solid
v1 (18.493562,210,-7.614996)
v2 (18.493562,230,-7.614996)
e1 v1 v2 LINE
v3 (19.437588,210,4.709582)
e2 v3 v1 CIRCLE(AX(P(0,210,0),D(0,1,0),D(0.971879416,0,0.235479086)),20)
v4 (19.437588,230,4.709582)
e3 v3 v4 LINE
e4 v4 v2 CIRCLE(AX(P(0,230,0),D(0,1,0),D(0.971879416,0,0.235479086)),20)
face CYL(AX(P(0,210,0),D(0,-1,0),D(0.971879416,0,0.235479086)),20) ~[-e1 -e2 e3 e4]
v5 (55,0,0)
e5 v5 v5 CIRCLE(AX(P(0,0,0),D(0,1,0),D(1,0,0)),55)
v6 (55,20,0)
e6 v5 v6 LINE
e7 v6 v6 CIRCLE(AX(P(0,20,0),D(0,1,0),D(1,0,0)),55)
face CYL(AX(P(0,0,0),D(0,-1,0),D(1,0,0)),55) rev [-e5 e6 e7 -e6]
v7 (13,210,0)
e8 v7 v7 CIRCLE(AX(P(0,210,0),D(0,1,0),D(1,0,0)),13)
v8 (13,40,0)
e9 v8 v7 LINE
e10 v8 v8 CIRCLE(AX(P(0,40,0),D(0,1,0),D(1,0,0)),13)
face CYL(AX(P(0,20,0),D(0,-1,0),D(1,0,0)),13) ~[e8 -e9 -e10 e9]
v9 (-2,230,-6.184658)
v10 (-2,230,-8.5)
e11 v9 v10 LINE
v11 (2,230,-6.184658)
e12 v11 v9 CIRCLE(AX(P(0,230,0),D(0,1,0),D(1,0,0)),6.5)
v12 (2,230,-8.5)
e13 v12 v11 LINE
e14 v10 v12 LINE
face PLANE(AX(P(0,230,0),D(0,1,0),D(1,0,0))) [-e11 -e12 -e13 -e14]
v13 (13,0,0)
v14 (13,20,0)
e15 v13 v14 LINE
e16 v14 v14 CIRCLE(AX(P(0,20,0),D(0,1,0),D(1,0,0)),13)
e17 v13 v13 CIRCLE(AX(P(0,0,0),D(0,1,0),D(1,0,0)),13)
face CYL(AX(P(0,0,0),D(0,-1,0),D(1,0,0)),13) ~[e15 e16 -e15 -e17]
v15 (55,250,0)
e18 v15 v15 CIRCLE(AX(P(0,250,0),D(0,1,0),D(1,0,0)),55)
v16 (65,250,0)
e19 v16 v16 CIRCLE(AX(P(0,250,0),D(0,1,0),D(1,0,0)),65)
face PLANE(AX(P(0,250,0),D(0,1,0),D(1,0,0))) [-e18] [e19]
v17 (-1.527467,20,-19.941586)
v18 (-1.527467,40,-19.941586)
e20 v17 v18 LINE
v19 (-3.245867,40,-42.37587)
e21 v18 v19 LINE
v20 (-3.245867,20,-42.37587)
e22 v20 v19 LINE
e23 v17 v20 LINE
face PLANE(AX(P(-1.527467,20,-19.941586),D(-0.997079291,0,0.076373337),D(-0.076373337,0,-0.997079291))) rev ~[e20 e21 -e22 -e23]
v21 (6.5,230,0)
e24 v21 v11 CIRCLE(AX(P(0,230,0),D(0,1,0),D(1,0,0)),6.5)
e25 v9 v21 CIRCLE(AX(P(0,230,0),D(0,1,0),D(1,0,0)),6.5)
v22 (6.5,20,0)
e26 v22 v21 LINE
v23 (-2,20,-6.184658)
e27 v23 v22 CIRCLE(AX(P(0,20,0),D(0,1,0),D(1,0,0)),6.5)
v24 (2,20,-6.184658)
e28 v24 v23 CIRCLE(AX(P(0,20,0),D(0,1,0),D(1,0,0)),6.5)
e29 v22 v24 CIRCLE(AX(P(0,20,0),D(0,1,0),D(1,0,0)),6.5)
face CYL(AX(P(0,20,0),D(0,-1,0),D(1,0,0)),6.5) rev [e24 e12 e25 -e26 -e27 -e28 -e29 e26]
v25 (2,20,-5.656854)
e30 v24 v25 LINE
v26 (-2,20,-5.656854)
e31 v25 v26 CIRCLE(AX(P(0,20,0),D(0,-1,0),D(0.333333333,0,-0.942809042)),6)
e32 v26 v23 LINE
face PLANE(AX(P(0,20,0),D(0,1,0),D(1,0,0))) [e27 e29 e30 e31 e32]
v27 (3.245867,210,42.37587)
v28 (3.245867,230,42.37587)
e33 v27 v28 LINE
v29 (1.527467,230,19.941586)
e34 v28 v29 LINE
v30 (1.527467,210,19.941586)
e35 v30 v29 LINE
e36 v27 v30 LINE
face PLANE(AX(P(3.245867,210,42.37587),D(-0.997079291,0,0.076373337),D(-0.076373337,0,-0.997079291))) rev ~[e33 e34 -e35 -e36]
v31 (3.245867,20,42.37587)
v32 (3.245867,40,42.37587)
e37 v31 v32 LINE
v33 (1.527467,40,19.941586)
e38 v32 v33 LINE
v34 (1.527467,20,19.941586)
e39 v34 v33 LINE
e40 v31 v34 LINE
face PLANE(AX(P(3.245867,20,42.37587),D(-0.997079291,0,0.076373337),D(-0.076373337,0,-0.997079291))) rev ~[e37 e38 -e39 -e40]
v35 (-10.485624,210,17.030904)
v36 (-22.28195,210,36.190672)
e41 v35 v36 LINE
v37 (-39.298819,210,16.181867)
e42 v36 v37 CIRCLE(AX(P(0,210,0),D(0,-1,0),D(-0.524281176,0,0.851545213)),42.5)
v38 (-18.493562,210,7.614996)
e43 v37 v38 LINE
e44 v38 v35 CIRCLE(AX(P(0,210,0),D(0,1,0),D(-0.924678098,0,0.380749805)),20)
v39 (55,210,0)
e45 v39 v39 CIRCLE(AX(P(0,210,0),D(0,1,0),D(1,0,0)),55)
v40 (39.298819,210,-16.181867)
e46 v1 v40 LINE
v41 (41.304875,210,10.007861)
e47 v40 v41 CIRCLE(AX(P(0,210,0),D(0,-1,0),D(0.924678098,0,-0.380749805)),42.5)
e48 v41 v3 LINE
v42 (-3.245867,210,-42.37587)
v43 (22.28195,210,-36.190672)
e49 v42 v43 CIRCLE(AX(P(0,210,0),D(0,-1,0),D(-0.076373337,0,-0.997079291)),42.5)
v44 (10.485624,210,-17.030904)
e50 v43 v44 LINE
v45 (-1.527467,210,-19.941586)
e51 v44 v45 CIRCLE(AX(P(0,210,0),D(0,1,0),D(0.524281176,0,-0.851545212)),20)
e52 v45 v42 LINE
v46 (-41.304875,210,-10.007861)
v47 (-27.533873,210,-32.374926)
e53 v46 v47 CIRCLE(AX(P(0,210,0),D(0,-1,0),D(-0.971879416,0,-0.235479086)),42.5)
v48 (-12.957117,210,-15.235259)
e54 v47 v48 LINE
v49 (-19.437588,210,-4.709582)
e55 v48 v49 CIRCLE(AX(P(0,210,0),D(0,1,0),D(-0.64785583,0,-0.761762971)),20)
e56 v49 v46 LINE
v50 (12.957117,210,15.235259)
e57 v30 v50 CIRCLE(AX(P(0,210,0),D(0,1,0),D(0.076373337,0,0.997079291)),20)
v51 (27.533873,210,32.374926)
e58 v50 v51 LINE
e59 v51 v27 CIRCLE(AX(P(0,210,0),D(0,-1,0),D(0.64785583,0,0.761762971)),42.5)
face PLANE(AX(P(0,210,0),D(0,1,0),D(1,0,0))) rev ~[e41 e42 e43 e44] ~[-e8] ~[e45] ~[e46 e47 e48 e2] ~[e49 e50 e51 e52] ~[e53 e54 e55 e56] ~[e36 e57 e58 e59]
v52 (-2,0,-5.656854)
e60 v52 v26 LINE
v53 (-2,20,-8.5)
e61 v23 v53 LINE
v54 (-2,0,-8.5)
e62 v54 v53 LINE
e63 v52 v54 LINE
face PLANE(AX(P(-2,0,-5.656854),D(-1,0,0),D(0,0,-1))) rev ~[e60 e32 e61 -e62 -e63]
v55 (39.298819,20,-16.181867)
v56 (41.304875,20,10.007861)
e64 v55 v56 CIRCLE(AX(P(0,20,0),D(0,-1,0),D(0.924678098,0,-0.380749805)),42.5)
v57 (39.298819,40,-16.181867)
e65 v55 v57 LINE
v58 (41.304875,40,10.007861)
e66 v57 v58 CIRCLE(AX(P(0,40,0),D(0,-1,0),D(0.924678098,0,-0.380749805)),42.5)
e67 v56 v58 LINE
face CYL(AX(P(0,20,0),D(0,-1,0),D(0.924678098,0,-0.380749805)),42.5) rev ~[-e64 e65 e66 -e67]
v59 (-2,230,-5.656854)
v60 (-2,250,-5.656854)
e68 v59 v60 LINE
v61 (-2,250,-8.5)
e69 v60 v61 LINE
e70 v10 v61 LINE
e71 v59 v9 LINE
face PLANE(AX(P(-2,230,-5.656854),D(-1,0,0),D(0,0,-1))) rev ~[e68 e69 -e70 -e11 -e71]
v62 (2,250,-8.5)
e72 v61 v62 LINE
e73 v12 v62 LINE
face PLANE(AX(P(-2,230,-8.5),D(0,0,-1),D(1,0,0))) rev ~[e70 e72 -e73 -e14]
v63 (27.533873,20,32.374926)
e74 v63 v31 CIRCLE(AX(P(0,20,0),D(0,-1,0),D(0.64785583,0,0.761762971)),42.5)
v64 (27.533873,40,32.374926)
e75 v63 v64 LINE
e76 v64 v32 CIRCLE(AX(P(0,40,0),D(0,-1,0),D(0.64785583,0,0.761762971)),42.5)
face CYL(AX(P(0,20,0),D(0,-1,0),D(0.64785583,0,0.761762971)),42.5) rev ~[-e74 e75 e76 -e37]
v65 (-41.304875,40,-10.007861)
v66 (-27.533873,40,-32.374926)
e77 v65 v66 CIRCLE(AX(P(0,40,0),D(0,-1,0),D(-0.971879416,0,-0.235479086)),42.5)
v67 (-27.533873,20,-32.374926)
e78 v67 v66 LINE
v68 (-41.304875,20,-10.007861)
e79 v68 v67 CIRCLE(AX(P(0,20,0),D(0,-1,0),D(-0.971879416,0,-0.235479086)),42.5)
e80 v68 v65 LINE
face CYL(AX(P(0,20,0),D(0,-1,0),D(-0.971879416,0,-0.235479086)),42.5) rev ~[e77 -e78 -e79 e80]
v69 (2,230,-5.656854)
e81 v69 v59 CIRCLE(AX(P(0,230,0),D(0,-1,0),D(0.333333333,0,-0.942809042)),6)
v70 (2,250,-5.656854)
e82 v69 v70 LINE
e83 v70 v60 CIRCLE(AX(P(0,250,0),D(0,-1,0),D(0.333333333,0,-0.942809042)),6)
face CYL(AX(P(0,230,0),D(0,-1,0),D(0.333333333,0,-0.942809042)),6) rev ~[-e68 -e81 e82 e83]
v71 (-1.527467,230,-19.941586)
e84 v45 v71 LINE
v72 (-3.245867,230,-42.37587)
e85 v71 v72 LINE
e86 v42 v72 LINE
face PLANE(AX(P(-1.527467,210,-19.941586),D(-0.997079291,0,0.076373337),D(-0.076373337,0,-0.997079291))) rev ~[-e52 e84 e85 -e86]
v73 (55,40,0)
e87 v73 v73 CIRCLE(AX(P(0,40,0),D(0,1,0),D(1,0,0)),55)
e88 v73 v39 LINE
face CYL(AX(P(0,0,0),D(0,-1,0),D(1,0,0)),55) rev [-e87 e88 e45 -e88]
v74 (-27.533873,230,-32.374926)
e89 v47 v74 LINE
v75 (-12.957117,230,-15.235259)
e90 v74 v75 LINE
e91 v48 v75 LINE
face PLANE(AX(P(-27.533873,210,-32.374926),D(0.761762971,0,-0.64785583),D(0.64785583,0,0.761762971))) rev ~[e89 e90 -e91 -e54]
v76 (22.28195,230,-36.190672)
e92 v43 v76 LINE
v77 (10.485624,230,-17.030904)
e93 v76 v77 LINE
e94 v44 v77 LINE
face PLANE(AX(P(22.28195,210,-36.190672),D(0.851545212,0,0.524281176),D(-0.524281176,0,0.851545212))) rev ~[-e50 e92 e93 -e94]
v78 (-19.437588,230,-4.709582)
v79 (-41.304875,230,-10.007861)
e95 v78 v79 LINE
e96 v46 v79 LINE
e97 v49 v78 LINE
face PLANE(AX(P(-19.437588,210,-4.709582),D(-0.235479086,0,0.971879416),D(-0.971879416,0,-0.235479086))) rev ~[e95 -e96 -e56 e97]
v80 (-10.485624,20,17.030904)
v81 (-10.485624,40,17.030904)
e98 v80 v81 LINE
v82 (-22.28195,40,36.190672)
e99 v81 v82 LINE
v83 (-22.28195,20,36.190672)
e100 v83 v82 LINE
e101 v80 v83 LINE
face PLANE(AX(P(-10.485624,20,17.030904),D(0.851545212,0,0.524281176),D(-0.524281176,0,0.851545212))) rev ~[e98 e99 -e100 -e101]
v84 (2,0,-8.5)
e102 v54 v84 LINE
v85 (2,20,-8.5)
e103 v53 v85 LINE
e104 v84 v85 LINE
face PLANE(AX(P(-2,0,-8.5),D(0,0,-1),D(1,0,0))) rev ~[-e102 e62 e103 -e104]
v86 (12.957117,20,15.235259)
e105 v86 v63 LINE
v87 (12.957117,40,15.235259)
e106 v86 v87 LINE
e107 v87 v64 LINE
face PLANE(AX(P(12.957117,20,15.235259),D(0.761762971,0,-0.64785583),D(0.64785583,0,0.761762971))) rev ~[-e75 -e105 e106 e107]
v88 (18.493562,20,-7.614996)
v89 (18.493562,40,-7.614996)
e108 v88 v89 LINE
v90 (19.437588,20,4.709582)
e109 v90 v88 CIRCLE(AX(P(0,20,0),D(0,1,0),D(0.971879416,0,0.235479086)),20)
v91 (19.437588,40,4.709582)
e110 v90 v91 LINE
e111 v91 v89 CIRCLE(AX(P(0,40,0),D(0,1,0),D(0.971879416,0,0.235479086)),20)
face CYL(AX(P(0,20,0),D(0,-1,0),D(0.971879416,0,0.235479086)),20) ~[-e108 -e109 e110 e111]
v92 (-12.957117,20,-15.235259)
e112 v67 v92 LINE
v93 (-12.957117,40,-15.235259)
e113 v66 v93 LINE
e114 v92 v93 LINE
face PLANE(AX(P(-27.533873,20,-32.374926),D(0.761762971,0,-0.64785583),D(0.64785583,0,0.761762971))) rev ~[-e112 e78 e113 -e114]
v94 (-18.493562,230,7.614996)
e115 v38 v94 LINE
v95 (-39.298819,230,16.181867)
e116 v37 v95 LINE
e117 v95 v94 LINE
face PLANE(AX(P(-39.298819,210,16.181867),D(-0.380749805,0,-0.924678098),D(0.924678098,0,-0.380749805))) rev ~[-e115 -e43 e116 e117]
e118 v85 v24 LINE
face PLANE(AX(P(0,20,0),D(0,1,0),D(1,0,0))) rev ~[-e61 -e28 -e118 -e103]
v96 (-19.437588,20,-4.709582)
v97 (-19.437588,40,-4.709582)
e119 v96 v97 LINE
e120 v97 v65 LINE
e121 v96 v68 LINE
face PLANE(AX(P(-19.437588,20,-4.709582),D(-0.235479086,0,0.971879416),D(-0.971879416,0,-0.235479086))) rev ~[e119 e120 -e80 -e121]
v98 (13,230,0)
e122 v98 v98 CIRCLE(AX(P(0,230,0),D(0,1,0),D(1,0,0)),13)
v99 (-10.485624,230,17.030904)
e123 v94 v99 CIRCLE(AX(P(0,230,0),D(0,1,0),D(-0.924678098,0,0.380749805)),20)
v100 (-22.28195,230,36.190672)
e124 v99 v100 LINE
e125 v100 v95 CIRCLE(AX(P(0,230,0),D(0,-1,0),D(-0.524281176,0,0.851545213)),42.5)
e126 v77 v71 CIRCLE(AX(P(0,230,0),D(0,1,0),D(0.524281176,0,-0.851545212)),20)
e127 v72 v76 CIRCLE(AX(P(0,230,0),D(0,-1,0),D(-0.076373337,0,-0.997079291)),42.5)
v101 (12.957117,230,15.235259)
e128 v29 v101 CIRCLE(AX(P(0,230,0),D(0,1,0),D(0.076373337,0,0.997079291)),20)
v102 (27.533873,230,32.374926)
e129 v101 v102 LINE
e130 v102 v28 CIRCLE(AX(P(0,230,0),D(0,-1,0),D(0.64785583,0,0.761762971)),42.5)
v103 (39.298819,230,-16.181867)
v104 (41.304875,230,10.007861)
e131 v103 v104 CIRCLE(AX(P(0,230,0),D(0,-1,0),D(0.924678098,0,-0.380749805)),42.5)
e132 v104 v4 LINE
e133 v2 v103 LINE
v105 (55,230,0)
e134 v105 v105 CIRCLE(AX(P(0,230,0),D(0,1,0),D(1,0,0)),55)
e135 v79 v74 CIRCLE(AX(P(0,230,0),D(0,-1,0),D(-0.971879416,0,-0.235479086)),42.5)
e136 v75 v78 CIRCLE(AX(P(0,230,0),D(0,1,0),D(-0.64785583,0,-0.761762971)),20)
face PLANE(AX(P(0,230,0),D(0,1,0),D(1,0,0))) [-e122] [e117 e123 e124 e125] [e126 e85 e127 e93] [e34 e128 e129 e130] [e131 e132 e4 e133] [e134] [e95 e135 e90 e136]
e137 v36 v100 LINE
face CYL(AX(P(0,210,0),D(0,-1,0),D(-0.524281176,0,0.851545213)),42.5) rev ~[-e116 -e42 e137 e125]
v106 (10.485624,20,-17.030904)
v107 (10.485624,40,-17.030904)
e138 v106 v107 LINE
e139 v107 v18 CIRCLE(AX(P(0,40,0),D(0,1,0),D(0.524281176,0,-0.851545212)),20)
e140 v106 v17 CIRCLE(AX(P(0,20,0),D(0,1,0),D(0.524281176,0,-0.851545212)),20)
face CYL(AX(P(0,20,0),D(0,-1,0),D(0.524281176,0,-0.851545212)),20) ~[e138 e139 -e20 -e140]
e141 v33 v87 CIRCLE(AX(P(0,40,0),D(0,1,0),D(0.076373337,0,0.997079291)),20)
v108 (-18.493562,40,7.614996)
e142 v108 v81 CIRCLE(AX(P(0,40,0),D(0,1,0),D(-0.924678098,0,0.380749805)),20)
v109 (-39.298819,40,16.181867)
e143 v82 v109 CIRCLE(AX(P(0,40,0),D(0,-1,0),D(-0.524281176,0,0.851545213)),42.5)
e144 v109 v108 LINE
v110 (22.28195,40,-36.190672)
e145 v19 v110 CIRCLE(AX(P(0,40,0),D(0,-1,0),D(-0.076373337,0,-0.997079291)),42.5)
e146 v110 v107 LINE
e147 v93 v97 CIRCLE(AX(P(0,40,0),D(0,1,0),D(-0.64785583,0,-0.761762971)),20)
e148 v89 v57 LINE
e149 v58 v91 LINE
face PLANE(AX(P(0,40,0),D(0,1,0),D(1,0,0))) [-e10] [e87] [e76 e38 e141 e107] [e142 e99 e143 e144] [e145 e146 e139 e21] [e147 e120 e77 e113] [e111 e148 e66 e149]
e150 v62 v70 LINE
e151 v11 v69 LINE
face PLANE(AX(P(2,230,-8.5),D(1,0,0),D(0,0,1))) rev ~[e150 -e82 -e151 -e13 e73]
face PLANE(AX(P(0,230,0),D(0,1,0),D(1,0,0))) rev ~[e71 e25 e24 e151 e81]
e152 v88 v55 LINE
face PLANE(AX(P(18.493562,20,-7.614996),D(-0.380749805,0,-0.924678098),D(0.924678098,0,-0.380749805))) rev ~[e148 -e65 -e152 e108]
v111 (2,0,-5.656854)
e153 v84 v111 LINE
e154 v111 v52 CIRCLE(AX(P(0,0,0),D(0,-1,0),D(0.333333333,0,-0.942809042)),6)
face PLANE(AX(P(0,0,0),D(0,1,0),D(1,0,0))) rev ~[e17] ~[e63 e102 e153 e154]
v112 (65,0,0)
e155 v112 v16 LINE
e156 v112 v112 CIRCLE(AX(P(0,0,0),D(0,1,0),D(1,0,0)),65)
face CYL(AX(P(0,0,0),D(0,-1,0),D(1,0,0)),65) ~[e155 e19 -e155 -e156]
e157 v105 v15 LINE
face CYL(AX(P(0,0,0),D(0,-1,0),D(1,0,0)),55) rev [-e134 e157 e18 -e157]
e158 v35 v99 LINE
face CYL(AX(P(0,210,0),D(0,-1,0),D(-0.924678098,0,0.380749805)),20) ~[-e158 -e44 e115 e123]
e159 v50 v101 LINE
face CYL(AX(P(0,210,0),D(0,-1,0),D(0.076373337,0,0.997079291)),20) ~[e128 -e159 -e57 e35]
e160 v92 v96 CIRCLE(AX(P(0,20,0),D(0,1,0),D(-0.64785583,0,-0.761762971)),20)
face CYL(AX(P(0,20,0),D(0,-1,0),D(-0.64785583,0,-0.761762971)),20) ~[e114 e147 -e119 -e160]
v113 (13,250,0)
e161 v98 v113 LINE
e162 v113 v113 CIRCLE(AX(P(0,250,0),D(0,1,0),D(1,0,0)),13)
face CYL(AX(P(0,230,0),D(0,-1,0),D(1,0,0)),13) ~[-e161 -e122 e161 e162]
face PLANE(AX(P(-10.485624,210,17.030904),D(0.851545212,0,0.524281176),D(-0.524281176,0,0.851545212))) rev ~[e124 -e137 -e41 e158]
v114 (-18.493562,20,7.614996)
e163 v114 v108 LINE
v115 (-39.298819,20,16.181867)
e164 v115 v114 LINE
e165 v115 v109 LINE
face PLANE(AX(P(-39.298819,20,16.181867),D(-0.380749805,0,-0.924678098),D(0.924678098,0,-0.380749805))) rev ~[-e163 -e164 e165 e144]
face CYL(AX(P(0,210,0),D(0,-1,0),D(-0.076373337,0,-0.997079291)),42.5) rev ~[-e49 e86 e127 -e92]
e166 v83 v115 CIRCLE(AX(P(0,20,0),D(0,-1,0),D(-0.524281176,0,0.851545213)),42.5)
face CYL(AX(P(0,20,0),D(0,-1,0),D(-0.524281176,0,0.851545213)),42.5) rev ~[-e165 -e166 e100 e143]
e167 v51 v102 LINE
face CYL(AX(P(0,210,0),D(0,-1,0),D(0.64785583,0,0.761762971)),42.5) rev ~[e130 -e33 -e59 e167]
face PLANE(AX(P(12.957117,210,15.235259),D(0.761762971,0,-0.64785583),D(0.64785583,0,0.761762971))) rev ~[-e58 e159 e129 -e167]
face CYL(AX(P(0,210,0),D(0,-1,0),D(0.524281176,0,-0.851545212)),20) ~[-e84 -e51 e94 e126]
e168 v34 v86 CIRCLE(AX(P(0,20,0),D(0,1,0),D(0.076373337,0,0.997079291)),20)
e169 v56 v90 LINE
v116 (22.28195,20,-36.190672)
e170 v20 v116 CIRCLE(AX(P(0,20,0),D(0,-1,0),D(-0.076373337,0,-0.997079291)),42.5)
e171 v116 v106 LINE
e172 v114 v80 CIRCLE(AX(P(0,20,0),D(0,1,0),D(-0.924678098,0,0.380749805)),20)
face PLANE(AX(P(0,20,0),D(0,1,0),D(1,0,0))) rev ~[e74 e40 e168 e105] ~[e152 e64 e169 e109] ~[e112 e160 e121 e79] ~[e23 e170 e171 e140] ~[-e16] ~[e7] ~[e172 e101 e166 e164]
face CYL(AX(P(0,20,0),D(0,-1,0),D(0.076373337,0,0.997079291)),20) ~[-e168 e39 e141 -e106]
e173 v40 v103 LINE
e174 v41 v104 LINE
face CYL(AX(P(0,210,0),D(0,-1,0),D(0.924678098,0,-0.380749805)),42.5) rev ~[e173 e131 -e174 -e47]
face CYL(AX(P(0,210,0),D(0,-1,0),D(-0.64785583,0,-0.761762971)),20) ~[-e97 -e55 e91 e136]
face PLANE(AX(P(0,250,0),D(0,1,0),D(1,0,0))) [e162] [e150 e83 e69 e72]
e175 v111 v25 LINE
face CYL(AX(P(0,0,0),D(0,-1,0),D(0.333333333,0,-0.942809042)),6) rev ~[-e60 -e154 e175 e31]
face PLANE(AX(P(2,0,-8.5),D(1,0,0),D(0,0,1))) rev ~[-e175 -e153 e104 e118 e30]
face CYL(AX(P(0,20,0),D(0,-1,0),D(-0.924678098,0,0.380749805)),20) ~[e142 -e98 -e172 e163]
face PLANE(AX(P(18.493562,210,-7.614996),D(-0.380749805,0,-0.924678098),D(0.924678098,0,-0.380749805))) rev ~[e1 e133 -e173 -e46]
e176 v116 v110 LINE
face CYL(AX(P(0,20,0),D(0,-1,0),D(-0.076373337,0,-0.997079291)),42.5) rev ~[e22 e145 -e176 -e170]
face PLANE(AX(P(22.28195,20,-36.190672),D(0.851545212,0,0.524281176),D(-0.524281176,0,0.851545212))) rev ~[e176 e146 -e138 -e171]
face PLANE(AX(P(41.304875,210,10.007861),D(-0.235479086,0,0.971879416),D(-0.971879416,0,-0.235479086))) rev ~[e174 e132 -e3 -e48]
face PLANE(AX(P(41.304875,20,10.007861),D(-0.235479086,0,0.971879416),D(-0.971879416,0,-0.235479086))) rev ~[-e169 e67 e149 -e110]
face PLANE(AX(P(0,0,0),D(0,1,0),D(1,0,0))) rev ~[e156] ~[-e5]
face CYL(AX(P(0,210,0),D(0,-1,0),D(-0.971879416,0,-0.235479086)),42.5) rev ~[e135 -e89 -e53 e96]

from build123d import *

# Parameters (mm, degrees)
SKETCH1_R           = 65
SKETCH1_R_2         = 55
BOSS_EXTRUDE1_DEPTH = 250
BOSS_EXTRUDE2_START = 20
SKETCH3_R           = 55
SKETCH3_R_2         = 13
BOSS_EXTRUDE2_DEPTH = 20
BOSS_EXTRUDE3_START = 210
SKETCH3_5_R         = 55
SKETCH3_5_R_2       = 13
BOSS_EXTRUDE3_DEPTH = 20
BOSS_EXTRUDE4_START = 20
SKETCH3_7_R         = 13
SKETCH3_7_R_2       = 6.5
BOSS_EXTRUDE4_DEPTH = 210
SKETCH3_10_R        = 13
BOSS_EXTRUDE5_DEPTH = 20
BOSS_EXTRUDE6_START = 230
SKETCH3_11_R        = 13
BOSS_EXTRUDE6_DEPTH = 20


with BuildPart() as part:
    # Sketch1 → Boss-Extrude1 (new body)
    with BuildSketch(Plane(origin=(0, 0, 0), x_dir=(1, 0, 0), z_dir=(0, 1, 0))):
        Circle(SKETCH1_R)
        Circle(SKETCH1_R_2, mode=Mode.SUBTRACT)
    extrude(amount=BOSS_EXTRUDE1_DEPTH)

    # Sketch3 → Boss-Extrude2 (add)
    with BuildSketch(Plane(origin=(0, 0, 0), x_dir=(1, 0, 0), z_dir=(0, 1, 0)).offset(BOSS_EXTRUDE2_START)):
        Circle(SKETCH3_R)
        with BuildLine():
            ThreePointArc((1.527466732, -19.941585829), (7.614996105, -18.493561969), (12.957116602, -15.235259412))
            Line((12.957116602, -15.235259412), (27.53387278, -32.374926251))
            ThreePointArc((27.53387278, -32.374926251), (16.181866723, -39.298819185), (3.245866806, -42.375869887))
            Line((3.245866806, -42.375869887), (1.527466732, -19.941585829))
        make_face(mode=Mode.SUBTRACT)
        with BuildLine():
            ThreePointArc((-18.493561969, -7.614996105), (-15.235259412, -12.957116602), (-10.485623513, -17.030904249))
            Line((-10.485623513, -17.030904249), (-22.281949965, -36.190671529))
            ThreePointArc((-22.281949965, -36.190671529), (-32.374926251, -27.53387278), (-39.298819185, -16.181866723))
            Line((-39.298819185, -16.181866723), (-18.493561969, -7.614996105))
        make_face(mode=Mode.SUBTRACT)
        with BuildLine():
            ThreePointArc((-12.957116602, 15.235259412), (-17.030904249, 10.485623513), (-19.437588327, 4.709581727))
            Line((-19.437588327, 4.709581727), (-41.304875194, 10.00786117))
            ThreePointArc((-41.304875194, 10.00786117), (-36.190671529, 22.281949965), (-27.53387278, 32.374926251))
            Line((-27.53387278, 32.374926251), (-12.957116602, 15.235259412))
        make_face(mode=Mode.SUBTRACT)
        with BuildLine():
            ThreePointArc((10.485623513, 17.030904249), (4.709581727, 19.437588327), (-1.527466732, 19.941585829))
            Line((-1.527466732, 19.941585829), (-3.245866806, 42.375869887))
            ThreePointArc((-3.245866806, 42.375869887), (10.00786117, 41.304875194), (22.281949965, 36.190671529))
            Line((22.281949965, 36.190671529), (10.485623513, 17.030904249))
        make_face(mode=Mode.SUBTRACT)
        with BuildLine():
            Line((18.493561969, 7.614996105), (39.298819185, 16.181866723))
            ThreePointArc((39.298819185, 16.181866723), (42.375869887, 3.245866806), (41.304875194, -10.00786117))
            Line((41.304875194, -10.00786117), (19.437588327, -4.709581727))
            ThreePointArc((19.437588327, -4.709581727), (19.941585829, 1.527466732), (18.493561969, 7.614996105))
        make_face(mode=Mode.SUBTRACT)
        Circle(SKETCH3_R_2, mode=Mode.SUBTRACT)
    extrude(amount=BOSS_EXTRUDE2_DEPTH)

    # Sketch3<5> → Boss-Extrude3 (add)
    with BuildSketch(Plane(origin=(0, 0, 0), x_dir=(1, 0, 0), z_dir=(0, 1, 0)).offset(BOSS_EXTRUDE3_START)):
        Circle(SKETCH3_5_R)
        with BuildLine():
            ThreePointArc((1.527466732, -19.941585829), (7.614996105, -18.493561969), (12.957116602, -15.235259412))
            Line((12.957116602, -15.235259412), (27.53387278, -32.374926251))
            ThreePointArc((27.53387278, -32.374926251), (16.181866723, -39.298819185), (3.245866806, -42.375869887))
            Line((3.245866806, -42.375869887), (1.527466732, -19.941585829))
        make_face(mode=Mode.SUBTRACT)
        with BuildLine():
            ThreePointArc((-18.493561969, -7.614996105), (-15.235259412, -12.957116602), (-10.485623513, -17.030904249))
            Line((-10.485623513, -17.030904249), (-22.281949965, -36.190671529))
            ThreePointArc((-22.281949965, -36.190671529), (-32.374926251, -27.53387278), (-39.298819185, -16.181866723))
            Line((-39.298819185, -16.181866723), (-18.493561969, -7.614996105))
        make_face(mode=Mode.SUBTRACT)
        with BuildLine():
            ThreePointArc((-12.957116602, 15.235259412), (-17.030904249, 10.485623513), (-19.437588327, 4.709581727))
            Line((-19.437588327, 4.709581727), (-41.304875194, 10.00786117))
            ThreePointArc((-41.304875194, 10.00786117), (-36.190671529, 22.281949965), (-27.53387278, 32.374926251))
            Line((-27.53387278, 32.374926251), (-12.957116602, 15.235259412))
        make_face(mode=Mode.SUBTRACT)
        with BuildLine():
            ThreePointArc((10.485623513, 17.030904249), (4.709581727, 19.437588327), (-1.527466732, 19.941585829))
            Line((-1.527466732, 19.941585829), (-3.245866806, 42.375869887))
            ThreePointArc((-3.245866806, 42.375869887), (10.00786117, 41.304875194), (22.281949965, 36.190671529))
            Line((22.281949965, 36.190671529), (10.485623513, 17.030904249))
        make_face(mode=Mode.SUBTRACT)
        with BuildLine():
            Line((18.493561969, 7.614996105), (39.298819185, 16.181866723))
            ThreePointArc((39.298819185, 16.181866723), (42.375869887, 3.245866806), (41.304875194, -10.00786117))
            Line((41.304875194, -10.00786117), (19.437588327, -4.709581727))
            ThreePointArc((19.437588327, -4.709581727), (19.941585829, 1.527466732), (18.493561969, 7.614996105))
        make_face(mode=Mode.SUBTRACT)
        Circle(SKETCH3_5_R_2, mode=Mode.SUBTRACT)
    extrude(amount=BOSS_EXTRUDE3_DEPTH)

    # Sketch3<7> → Boss-Extrude4 (add)
    with BuildSketch(Plane(origin=(0, 0, 0), x_dir=(1, 0, 0), z_dir=(0, 1, 0)).offset(BOSS_EXTRUDE4_START)):
        Circle(SKETCH3_7_R)
        Circle(SKETCH3_7_R_2, mode=Mode.SUBTRACT)
    extrude(amount=BOSS_EXTRUDE4_DEPTH)

    # Sketch3<10> → Boss-Extrude5 (add)
    with BuildSketch(Plane(origin=(0, 0, 0), x_dir=(1, 0, 0), z_dir=(0, 1, 0))):
        Circle(SKETCH3_10_R)
        with BuildLine():
            ThreePointArc((2, 5.656854249), (0, -6), (-2, 5.656854249))
            Line((-2, 5.656854249), (-2, 8.5))
            Line((-2, 8.5), (2, 8.5))
            Line((2, 8.5), (2, 5.656854249))
        make_face(mode=Mode.SUBTRACT)
    extrude(amount=BOSS_EXTRUDE5_DEPTH)

    # Sketch3<11> → Boss-Extrude6 (add)
    with BuildSketch(Plane(origin=(0, 0, 0), x_dir=(1, 0, 0), z_dir=(0, 1, 0)).offset(BOSS_EXTRUDE6_START)):
        Circle(SKETCH3_11_R)
        with BuildLine():
            ThreePointArc((2, 5.656854249), (0, -6), (-2, 5.656854249))
            Line((-2, 5.656854249), (-2, 8.5))
            Line((-2, 8.5), (2, 8.5))
            Line((2, 8.5), (2, 5.656854249))
        make_face(mode=Mode.SUBTRACT)
    extrude(amount=BOSS_EXTRUDE6_DEPTH)


solid = part.part
